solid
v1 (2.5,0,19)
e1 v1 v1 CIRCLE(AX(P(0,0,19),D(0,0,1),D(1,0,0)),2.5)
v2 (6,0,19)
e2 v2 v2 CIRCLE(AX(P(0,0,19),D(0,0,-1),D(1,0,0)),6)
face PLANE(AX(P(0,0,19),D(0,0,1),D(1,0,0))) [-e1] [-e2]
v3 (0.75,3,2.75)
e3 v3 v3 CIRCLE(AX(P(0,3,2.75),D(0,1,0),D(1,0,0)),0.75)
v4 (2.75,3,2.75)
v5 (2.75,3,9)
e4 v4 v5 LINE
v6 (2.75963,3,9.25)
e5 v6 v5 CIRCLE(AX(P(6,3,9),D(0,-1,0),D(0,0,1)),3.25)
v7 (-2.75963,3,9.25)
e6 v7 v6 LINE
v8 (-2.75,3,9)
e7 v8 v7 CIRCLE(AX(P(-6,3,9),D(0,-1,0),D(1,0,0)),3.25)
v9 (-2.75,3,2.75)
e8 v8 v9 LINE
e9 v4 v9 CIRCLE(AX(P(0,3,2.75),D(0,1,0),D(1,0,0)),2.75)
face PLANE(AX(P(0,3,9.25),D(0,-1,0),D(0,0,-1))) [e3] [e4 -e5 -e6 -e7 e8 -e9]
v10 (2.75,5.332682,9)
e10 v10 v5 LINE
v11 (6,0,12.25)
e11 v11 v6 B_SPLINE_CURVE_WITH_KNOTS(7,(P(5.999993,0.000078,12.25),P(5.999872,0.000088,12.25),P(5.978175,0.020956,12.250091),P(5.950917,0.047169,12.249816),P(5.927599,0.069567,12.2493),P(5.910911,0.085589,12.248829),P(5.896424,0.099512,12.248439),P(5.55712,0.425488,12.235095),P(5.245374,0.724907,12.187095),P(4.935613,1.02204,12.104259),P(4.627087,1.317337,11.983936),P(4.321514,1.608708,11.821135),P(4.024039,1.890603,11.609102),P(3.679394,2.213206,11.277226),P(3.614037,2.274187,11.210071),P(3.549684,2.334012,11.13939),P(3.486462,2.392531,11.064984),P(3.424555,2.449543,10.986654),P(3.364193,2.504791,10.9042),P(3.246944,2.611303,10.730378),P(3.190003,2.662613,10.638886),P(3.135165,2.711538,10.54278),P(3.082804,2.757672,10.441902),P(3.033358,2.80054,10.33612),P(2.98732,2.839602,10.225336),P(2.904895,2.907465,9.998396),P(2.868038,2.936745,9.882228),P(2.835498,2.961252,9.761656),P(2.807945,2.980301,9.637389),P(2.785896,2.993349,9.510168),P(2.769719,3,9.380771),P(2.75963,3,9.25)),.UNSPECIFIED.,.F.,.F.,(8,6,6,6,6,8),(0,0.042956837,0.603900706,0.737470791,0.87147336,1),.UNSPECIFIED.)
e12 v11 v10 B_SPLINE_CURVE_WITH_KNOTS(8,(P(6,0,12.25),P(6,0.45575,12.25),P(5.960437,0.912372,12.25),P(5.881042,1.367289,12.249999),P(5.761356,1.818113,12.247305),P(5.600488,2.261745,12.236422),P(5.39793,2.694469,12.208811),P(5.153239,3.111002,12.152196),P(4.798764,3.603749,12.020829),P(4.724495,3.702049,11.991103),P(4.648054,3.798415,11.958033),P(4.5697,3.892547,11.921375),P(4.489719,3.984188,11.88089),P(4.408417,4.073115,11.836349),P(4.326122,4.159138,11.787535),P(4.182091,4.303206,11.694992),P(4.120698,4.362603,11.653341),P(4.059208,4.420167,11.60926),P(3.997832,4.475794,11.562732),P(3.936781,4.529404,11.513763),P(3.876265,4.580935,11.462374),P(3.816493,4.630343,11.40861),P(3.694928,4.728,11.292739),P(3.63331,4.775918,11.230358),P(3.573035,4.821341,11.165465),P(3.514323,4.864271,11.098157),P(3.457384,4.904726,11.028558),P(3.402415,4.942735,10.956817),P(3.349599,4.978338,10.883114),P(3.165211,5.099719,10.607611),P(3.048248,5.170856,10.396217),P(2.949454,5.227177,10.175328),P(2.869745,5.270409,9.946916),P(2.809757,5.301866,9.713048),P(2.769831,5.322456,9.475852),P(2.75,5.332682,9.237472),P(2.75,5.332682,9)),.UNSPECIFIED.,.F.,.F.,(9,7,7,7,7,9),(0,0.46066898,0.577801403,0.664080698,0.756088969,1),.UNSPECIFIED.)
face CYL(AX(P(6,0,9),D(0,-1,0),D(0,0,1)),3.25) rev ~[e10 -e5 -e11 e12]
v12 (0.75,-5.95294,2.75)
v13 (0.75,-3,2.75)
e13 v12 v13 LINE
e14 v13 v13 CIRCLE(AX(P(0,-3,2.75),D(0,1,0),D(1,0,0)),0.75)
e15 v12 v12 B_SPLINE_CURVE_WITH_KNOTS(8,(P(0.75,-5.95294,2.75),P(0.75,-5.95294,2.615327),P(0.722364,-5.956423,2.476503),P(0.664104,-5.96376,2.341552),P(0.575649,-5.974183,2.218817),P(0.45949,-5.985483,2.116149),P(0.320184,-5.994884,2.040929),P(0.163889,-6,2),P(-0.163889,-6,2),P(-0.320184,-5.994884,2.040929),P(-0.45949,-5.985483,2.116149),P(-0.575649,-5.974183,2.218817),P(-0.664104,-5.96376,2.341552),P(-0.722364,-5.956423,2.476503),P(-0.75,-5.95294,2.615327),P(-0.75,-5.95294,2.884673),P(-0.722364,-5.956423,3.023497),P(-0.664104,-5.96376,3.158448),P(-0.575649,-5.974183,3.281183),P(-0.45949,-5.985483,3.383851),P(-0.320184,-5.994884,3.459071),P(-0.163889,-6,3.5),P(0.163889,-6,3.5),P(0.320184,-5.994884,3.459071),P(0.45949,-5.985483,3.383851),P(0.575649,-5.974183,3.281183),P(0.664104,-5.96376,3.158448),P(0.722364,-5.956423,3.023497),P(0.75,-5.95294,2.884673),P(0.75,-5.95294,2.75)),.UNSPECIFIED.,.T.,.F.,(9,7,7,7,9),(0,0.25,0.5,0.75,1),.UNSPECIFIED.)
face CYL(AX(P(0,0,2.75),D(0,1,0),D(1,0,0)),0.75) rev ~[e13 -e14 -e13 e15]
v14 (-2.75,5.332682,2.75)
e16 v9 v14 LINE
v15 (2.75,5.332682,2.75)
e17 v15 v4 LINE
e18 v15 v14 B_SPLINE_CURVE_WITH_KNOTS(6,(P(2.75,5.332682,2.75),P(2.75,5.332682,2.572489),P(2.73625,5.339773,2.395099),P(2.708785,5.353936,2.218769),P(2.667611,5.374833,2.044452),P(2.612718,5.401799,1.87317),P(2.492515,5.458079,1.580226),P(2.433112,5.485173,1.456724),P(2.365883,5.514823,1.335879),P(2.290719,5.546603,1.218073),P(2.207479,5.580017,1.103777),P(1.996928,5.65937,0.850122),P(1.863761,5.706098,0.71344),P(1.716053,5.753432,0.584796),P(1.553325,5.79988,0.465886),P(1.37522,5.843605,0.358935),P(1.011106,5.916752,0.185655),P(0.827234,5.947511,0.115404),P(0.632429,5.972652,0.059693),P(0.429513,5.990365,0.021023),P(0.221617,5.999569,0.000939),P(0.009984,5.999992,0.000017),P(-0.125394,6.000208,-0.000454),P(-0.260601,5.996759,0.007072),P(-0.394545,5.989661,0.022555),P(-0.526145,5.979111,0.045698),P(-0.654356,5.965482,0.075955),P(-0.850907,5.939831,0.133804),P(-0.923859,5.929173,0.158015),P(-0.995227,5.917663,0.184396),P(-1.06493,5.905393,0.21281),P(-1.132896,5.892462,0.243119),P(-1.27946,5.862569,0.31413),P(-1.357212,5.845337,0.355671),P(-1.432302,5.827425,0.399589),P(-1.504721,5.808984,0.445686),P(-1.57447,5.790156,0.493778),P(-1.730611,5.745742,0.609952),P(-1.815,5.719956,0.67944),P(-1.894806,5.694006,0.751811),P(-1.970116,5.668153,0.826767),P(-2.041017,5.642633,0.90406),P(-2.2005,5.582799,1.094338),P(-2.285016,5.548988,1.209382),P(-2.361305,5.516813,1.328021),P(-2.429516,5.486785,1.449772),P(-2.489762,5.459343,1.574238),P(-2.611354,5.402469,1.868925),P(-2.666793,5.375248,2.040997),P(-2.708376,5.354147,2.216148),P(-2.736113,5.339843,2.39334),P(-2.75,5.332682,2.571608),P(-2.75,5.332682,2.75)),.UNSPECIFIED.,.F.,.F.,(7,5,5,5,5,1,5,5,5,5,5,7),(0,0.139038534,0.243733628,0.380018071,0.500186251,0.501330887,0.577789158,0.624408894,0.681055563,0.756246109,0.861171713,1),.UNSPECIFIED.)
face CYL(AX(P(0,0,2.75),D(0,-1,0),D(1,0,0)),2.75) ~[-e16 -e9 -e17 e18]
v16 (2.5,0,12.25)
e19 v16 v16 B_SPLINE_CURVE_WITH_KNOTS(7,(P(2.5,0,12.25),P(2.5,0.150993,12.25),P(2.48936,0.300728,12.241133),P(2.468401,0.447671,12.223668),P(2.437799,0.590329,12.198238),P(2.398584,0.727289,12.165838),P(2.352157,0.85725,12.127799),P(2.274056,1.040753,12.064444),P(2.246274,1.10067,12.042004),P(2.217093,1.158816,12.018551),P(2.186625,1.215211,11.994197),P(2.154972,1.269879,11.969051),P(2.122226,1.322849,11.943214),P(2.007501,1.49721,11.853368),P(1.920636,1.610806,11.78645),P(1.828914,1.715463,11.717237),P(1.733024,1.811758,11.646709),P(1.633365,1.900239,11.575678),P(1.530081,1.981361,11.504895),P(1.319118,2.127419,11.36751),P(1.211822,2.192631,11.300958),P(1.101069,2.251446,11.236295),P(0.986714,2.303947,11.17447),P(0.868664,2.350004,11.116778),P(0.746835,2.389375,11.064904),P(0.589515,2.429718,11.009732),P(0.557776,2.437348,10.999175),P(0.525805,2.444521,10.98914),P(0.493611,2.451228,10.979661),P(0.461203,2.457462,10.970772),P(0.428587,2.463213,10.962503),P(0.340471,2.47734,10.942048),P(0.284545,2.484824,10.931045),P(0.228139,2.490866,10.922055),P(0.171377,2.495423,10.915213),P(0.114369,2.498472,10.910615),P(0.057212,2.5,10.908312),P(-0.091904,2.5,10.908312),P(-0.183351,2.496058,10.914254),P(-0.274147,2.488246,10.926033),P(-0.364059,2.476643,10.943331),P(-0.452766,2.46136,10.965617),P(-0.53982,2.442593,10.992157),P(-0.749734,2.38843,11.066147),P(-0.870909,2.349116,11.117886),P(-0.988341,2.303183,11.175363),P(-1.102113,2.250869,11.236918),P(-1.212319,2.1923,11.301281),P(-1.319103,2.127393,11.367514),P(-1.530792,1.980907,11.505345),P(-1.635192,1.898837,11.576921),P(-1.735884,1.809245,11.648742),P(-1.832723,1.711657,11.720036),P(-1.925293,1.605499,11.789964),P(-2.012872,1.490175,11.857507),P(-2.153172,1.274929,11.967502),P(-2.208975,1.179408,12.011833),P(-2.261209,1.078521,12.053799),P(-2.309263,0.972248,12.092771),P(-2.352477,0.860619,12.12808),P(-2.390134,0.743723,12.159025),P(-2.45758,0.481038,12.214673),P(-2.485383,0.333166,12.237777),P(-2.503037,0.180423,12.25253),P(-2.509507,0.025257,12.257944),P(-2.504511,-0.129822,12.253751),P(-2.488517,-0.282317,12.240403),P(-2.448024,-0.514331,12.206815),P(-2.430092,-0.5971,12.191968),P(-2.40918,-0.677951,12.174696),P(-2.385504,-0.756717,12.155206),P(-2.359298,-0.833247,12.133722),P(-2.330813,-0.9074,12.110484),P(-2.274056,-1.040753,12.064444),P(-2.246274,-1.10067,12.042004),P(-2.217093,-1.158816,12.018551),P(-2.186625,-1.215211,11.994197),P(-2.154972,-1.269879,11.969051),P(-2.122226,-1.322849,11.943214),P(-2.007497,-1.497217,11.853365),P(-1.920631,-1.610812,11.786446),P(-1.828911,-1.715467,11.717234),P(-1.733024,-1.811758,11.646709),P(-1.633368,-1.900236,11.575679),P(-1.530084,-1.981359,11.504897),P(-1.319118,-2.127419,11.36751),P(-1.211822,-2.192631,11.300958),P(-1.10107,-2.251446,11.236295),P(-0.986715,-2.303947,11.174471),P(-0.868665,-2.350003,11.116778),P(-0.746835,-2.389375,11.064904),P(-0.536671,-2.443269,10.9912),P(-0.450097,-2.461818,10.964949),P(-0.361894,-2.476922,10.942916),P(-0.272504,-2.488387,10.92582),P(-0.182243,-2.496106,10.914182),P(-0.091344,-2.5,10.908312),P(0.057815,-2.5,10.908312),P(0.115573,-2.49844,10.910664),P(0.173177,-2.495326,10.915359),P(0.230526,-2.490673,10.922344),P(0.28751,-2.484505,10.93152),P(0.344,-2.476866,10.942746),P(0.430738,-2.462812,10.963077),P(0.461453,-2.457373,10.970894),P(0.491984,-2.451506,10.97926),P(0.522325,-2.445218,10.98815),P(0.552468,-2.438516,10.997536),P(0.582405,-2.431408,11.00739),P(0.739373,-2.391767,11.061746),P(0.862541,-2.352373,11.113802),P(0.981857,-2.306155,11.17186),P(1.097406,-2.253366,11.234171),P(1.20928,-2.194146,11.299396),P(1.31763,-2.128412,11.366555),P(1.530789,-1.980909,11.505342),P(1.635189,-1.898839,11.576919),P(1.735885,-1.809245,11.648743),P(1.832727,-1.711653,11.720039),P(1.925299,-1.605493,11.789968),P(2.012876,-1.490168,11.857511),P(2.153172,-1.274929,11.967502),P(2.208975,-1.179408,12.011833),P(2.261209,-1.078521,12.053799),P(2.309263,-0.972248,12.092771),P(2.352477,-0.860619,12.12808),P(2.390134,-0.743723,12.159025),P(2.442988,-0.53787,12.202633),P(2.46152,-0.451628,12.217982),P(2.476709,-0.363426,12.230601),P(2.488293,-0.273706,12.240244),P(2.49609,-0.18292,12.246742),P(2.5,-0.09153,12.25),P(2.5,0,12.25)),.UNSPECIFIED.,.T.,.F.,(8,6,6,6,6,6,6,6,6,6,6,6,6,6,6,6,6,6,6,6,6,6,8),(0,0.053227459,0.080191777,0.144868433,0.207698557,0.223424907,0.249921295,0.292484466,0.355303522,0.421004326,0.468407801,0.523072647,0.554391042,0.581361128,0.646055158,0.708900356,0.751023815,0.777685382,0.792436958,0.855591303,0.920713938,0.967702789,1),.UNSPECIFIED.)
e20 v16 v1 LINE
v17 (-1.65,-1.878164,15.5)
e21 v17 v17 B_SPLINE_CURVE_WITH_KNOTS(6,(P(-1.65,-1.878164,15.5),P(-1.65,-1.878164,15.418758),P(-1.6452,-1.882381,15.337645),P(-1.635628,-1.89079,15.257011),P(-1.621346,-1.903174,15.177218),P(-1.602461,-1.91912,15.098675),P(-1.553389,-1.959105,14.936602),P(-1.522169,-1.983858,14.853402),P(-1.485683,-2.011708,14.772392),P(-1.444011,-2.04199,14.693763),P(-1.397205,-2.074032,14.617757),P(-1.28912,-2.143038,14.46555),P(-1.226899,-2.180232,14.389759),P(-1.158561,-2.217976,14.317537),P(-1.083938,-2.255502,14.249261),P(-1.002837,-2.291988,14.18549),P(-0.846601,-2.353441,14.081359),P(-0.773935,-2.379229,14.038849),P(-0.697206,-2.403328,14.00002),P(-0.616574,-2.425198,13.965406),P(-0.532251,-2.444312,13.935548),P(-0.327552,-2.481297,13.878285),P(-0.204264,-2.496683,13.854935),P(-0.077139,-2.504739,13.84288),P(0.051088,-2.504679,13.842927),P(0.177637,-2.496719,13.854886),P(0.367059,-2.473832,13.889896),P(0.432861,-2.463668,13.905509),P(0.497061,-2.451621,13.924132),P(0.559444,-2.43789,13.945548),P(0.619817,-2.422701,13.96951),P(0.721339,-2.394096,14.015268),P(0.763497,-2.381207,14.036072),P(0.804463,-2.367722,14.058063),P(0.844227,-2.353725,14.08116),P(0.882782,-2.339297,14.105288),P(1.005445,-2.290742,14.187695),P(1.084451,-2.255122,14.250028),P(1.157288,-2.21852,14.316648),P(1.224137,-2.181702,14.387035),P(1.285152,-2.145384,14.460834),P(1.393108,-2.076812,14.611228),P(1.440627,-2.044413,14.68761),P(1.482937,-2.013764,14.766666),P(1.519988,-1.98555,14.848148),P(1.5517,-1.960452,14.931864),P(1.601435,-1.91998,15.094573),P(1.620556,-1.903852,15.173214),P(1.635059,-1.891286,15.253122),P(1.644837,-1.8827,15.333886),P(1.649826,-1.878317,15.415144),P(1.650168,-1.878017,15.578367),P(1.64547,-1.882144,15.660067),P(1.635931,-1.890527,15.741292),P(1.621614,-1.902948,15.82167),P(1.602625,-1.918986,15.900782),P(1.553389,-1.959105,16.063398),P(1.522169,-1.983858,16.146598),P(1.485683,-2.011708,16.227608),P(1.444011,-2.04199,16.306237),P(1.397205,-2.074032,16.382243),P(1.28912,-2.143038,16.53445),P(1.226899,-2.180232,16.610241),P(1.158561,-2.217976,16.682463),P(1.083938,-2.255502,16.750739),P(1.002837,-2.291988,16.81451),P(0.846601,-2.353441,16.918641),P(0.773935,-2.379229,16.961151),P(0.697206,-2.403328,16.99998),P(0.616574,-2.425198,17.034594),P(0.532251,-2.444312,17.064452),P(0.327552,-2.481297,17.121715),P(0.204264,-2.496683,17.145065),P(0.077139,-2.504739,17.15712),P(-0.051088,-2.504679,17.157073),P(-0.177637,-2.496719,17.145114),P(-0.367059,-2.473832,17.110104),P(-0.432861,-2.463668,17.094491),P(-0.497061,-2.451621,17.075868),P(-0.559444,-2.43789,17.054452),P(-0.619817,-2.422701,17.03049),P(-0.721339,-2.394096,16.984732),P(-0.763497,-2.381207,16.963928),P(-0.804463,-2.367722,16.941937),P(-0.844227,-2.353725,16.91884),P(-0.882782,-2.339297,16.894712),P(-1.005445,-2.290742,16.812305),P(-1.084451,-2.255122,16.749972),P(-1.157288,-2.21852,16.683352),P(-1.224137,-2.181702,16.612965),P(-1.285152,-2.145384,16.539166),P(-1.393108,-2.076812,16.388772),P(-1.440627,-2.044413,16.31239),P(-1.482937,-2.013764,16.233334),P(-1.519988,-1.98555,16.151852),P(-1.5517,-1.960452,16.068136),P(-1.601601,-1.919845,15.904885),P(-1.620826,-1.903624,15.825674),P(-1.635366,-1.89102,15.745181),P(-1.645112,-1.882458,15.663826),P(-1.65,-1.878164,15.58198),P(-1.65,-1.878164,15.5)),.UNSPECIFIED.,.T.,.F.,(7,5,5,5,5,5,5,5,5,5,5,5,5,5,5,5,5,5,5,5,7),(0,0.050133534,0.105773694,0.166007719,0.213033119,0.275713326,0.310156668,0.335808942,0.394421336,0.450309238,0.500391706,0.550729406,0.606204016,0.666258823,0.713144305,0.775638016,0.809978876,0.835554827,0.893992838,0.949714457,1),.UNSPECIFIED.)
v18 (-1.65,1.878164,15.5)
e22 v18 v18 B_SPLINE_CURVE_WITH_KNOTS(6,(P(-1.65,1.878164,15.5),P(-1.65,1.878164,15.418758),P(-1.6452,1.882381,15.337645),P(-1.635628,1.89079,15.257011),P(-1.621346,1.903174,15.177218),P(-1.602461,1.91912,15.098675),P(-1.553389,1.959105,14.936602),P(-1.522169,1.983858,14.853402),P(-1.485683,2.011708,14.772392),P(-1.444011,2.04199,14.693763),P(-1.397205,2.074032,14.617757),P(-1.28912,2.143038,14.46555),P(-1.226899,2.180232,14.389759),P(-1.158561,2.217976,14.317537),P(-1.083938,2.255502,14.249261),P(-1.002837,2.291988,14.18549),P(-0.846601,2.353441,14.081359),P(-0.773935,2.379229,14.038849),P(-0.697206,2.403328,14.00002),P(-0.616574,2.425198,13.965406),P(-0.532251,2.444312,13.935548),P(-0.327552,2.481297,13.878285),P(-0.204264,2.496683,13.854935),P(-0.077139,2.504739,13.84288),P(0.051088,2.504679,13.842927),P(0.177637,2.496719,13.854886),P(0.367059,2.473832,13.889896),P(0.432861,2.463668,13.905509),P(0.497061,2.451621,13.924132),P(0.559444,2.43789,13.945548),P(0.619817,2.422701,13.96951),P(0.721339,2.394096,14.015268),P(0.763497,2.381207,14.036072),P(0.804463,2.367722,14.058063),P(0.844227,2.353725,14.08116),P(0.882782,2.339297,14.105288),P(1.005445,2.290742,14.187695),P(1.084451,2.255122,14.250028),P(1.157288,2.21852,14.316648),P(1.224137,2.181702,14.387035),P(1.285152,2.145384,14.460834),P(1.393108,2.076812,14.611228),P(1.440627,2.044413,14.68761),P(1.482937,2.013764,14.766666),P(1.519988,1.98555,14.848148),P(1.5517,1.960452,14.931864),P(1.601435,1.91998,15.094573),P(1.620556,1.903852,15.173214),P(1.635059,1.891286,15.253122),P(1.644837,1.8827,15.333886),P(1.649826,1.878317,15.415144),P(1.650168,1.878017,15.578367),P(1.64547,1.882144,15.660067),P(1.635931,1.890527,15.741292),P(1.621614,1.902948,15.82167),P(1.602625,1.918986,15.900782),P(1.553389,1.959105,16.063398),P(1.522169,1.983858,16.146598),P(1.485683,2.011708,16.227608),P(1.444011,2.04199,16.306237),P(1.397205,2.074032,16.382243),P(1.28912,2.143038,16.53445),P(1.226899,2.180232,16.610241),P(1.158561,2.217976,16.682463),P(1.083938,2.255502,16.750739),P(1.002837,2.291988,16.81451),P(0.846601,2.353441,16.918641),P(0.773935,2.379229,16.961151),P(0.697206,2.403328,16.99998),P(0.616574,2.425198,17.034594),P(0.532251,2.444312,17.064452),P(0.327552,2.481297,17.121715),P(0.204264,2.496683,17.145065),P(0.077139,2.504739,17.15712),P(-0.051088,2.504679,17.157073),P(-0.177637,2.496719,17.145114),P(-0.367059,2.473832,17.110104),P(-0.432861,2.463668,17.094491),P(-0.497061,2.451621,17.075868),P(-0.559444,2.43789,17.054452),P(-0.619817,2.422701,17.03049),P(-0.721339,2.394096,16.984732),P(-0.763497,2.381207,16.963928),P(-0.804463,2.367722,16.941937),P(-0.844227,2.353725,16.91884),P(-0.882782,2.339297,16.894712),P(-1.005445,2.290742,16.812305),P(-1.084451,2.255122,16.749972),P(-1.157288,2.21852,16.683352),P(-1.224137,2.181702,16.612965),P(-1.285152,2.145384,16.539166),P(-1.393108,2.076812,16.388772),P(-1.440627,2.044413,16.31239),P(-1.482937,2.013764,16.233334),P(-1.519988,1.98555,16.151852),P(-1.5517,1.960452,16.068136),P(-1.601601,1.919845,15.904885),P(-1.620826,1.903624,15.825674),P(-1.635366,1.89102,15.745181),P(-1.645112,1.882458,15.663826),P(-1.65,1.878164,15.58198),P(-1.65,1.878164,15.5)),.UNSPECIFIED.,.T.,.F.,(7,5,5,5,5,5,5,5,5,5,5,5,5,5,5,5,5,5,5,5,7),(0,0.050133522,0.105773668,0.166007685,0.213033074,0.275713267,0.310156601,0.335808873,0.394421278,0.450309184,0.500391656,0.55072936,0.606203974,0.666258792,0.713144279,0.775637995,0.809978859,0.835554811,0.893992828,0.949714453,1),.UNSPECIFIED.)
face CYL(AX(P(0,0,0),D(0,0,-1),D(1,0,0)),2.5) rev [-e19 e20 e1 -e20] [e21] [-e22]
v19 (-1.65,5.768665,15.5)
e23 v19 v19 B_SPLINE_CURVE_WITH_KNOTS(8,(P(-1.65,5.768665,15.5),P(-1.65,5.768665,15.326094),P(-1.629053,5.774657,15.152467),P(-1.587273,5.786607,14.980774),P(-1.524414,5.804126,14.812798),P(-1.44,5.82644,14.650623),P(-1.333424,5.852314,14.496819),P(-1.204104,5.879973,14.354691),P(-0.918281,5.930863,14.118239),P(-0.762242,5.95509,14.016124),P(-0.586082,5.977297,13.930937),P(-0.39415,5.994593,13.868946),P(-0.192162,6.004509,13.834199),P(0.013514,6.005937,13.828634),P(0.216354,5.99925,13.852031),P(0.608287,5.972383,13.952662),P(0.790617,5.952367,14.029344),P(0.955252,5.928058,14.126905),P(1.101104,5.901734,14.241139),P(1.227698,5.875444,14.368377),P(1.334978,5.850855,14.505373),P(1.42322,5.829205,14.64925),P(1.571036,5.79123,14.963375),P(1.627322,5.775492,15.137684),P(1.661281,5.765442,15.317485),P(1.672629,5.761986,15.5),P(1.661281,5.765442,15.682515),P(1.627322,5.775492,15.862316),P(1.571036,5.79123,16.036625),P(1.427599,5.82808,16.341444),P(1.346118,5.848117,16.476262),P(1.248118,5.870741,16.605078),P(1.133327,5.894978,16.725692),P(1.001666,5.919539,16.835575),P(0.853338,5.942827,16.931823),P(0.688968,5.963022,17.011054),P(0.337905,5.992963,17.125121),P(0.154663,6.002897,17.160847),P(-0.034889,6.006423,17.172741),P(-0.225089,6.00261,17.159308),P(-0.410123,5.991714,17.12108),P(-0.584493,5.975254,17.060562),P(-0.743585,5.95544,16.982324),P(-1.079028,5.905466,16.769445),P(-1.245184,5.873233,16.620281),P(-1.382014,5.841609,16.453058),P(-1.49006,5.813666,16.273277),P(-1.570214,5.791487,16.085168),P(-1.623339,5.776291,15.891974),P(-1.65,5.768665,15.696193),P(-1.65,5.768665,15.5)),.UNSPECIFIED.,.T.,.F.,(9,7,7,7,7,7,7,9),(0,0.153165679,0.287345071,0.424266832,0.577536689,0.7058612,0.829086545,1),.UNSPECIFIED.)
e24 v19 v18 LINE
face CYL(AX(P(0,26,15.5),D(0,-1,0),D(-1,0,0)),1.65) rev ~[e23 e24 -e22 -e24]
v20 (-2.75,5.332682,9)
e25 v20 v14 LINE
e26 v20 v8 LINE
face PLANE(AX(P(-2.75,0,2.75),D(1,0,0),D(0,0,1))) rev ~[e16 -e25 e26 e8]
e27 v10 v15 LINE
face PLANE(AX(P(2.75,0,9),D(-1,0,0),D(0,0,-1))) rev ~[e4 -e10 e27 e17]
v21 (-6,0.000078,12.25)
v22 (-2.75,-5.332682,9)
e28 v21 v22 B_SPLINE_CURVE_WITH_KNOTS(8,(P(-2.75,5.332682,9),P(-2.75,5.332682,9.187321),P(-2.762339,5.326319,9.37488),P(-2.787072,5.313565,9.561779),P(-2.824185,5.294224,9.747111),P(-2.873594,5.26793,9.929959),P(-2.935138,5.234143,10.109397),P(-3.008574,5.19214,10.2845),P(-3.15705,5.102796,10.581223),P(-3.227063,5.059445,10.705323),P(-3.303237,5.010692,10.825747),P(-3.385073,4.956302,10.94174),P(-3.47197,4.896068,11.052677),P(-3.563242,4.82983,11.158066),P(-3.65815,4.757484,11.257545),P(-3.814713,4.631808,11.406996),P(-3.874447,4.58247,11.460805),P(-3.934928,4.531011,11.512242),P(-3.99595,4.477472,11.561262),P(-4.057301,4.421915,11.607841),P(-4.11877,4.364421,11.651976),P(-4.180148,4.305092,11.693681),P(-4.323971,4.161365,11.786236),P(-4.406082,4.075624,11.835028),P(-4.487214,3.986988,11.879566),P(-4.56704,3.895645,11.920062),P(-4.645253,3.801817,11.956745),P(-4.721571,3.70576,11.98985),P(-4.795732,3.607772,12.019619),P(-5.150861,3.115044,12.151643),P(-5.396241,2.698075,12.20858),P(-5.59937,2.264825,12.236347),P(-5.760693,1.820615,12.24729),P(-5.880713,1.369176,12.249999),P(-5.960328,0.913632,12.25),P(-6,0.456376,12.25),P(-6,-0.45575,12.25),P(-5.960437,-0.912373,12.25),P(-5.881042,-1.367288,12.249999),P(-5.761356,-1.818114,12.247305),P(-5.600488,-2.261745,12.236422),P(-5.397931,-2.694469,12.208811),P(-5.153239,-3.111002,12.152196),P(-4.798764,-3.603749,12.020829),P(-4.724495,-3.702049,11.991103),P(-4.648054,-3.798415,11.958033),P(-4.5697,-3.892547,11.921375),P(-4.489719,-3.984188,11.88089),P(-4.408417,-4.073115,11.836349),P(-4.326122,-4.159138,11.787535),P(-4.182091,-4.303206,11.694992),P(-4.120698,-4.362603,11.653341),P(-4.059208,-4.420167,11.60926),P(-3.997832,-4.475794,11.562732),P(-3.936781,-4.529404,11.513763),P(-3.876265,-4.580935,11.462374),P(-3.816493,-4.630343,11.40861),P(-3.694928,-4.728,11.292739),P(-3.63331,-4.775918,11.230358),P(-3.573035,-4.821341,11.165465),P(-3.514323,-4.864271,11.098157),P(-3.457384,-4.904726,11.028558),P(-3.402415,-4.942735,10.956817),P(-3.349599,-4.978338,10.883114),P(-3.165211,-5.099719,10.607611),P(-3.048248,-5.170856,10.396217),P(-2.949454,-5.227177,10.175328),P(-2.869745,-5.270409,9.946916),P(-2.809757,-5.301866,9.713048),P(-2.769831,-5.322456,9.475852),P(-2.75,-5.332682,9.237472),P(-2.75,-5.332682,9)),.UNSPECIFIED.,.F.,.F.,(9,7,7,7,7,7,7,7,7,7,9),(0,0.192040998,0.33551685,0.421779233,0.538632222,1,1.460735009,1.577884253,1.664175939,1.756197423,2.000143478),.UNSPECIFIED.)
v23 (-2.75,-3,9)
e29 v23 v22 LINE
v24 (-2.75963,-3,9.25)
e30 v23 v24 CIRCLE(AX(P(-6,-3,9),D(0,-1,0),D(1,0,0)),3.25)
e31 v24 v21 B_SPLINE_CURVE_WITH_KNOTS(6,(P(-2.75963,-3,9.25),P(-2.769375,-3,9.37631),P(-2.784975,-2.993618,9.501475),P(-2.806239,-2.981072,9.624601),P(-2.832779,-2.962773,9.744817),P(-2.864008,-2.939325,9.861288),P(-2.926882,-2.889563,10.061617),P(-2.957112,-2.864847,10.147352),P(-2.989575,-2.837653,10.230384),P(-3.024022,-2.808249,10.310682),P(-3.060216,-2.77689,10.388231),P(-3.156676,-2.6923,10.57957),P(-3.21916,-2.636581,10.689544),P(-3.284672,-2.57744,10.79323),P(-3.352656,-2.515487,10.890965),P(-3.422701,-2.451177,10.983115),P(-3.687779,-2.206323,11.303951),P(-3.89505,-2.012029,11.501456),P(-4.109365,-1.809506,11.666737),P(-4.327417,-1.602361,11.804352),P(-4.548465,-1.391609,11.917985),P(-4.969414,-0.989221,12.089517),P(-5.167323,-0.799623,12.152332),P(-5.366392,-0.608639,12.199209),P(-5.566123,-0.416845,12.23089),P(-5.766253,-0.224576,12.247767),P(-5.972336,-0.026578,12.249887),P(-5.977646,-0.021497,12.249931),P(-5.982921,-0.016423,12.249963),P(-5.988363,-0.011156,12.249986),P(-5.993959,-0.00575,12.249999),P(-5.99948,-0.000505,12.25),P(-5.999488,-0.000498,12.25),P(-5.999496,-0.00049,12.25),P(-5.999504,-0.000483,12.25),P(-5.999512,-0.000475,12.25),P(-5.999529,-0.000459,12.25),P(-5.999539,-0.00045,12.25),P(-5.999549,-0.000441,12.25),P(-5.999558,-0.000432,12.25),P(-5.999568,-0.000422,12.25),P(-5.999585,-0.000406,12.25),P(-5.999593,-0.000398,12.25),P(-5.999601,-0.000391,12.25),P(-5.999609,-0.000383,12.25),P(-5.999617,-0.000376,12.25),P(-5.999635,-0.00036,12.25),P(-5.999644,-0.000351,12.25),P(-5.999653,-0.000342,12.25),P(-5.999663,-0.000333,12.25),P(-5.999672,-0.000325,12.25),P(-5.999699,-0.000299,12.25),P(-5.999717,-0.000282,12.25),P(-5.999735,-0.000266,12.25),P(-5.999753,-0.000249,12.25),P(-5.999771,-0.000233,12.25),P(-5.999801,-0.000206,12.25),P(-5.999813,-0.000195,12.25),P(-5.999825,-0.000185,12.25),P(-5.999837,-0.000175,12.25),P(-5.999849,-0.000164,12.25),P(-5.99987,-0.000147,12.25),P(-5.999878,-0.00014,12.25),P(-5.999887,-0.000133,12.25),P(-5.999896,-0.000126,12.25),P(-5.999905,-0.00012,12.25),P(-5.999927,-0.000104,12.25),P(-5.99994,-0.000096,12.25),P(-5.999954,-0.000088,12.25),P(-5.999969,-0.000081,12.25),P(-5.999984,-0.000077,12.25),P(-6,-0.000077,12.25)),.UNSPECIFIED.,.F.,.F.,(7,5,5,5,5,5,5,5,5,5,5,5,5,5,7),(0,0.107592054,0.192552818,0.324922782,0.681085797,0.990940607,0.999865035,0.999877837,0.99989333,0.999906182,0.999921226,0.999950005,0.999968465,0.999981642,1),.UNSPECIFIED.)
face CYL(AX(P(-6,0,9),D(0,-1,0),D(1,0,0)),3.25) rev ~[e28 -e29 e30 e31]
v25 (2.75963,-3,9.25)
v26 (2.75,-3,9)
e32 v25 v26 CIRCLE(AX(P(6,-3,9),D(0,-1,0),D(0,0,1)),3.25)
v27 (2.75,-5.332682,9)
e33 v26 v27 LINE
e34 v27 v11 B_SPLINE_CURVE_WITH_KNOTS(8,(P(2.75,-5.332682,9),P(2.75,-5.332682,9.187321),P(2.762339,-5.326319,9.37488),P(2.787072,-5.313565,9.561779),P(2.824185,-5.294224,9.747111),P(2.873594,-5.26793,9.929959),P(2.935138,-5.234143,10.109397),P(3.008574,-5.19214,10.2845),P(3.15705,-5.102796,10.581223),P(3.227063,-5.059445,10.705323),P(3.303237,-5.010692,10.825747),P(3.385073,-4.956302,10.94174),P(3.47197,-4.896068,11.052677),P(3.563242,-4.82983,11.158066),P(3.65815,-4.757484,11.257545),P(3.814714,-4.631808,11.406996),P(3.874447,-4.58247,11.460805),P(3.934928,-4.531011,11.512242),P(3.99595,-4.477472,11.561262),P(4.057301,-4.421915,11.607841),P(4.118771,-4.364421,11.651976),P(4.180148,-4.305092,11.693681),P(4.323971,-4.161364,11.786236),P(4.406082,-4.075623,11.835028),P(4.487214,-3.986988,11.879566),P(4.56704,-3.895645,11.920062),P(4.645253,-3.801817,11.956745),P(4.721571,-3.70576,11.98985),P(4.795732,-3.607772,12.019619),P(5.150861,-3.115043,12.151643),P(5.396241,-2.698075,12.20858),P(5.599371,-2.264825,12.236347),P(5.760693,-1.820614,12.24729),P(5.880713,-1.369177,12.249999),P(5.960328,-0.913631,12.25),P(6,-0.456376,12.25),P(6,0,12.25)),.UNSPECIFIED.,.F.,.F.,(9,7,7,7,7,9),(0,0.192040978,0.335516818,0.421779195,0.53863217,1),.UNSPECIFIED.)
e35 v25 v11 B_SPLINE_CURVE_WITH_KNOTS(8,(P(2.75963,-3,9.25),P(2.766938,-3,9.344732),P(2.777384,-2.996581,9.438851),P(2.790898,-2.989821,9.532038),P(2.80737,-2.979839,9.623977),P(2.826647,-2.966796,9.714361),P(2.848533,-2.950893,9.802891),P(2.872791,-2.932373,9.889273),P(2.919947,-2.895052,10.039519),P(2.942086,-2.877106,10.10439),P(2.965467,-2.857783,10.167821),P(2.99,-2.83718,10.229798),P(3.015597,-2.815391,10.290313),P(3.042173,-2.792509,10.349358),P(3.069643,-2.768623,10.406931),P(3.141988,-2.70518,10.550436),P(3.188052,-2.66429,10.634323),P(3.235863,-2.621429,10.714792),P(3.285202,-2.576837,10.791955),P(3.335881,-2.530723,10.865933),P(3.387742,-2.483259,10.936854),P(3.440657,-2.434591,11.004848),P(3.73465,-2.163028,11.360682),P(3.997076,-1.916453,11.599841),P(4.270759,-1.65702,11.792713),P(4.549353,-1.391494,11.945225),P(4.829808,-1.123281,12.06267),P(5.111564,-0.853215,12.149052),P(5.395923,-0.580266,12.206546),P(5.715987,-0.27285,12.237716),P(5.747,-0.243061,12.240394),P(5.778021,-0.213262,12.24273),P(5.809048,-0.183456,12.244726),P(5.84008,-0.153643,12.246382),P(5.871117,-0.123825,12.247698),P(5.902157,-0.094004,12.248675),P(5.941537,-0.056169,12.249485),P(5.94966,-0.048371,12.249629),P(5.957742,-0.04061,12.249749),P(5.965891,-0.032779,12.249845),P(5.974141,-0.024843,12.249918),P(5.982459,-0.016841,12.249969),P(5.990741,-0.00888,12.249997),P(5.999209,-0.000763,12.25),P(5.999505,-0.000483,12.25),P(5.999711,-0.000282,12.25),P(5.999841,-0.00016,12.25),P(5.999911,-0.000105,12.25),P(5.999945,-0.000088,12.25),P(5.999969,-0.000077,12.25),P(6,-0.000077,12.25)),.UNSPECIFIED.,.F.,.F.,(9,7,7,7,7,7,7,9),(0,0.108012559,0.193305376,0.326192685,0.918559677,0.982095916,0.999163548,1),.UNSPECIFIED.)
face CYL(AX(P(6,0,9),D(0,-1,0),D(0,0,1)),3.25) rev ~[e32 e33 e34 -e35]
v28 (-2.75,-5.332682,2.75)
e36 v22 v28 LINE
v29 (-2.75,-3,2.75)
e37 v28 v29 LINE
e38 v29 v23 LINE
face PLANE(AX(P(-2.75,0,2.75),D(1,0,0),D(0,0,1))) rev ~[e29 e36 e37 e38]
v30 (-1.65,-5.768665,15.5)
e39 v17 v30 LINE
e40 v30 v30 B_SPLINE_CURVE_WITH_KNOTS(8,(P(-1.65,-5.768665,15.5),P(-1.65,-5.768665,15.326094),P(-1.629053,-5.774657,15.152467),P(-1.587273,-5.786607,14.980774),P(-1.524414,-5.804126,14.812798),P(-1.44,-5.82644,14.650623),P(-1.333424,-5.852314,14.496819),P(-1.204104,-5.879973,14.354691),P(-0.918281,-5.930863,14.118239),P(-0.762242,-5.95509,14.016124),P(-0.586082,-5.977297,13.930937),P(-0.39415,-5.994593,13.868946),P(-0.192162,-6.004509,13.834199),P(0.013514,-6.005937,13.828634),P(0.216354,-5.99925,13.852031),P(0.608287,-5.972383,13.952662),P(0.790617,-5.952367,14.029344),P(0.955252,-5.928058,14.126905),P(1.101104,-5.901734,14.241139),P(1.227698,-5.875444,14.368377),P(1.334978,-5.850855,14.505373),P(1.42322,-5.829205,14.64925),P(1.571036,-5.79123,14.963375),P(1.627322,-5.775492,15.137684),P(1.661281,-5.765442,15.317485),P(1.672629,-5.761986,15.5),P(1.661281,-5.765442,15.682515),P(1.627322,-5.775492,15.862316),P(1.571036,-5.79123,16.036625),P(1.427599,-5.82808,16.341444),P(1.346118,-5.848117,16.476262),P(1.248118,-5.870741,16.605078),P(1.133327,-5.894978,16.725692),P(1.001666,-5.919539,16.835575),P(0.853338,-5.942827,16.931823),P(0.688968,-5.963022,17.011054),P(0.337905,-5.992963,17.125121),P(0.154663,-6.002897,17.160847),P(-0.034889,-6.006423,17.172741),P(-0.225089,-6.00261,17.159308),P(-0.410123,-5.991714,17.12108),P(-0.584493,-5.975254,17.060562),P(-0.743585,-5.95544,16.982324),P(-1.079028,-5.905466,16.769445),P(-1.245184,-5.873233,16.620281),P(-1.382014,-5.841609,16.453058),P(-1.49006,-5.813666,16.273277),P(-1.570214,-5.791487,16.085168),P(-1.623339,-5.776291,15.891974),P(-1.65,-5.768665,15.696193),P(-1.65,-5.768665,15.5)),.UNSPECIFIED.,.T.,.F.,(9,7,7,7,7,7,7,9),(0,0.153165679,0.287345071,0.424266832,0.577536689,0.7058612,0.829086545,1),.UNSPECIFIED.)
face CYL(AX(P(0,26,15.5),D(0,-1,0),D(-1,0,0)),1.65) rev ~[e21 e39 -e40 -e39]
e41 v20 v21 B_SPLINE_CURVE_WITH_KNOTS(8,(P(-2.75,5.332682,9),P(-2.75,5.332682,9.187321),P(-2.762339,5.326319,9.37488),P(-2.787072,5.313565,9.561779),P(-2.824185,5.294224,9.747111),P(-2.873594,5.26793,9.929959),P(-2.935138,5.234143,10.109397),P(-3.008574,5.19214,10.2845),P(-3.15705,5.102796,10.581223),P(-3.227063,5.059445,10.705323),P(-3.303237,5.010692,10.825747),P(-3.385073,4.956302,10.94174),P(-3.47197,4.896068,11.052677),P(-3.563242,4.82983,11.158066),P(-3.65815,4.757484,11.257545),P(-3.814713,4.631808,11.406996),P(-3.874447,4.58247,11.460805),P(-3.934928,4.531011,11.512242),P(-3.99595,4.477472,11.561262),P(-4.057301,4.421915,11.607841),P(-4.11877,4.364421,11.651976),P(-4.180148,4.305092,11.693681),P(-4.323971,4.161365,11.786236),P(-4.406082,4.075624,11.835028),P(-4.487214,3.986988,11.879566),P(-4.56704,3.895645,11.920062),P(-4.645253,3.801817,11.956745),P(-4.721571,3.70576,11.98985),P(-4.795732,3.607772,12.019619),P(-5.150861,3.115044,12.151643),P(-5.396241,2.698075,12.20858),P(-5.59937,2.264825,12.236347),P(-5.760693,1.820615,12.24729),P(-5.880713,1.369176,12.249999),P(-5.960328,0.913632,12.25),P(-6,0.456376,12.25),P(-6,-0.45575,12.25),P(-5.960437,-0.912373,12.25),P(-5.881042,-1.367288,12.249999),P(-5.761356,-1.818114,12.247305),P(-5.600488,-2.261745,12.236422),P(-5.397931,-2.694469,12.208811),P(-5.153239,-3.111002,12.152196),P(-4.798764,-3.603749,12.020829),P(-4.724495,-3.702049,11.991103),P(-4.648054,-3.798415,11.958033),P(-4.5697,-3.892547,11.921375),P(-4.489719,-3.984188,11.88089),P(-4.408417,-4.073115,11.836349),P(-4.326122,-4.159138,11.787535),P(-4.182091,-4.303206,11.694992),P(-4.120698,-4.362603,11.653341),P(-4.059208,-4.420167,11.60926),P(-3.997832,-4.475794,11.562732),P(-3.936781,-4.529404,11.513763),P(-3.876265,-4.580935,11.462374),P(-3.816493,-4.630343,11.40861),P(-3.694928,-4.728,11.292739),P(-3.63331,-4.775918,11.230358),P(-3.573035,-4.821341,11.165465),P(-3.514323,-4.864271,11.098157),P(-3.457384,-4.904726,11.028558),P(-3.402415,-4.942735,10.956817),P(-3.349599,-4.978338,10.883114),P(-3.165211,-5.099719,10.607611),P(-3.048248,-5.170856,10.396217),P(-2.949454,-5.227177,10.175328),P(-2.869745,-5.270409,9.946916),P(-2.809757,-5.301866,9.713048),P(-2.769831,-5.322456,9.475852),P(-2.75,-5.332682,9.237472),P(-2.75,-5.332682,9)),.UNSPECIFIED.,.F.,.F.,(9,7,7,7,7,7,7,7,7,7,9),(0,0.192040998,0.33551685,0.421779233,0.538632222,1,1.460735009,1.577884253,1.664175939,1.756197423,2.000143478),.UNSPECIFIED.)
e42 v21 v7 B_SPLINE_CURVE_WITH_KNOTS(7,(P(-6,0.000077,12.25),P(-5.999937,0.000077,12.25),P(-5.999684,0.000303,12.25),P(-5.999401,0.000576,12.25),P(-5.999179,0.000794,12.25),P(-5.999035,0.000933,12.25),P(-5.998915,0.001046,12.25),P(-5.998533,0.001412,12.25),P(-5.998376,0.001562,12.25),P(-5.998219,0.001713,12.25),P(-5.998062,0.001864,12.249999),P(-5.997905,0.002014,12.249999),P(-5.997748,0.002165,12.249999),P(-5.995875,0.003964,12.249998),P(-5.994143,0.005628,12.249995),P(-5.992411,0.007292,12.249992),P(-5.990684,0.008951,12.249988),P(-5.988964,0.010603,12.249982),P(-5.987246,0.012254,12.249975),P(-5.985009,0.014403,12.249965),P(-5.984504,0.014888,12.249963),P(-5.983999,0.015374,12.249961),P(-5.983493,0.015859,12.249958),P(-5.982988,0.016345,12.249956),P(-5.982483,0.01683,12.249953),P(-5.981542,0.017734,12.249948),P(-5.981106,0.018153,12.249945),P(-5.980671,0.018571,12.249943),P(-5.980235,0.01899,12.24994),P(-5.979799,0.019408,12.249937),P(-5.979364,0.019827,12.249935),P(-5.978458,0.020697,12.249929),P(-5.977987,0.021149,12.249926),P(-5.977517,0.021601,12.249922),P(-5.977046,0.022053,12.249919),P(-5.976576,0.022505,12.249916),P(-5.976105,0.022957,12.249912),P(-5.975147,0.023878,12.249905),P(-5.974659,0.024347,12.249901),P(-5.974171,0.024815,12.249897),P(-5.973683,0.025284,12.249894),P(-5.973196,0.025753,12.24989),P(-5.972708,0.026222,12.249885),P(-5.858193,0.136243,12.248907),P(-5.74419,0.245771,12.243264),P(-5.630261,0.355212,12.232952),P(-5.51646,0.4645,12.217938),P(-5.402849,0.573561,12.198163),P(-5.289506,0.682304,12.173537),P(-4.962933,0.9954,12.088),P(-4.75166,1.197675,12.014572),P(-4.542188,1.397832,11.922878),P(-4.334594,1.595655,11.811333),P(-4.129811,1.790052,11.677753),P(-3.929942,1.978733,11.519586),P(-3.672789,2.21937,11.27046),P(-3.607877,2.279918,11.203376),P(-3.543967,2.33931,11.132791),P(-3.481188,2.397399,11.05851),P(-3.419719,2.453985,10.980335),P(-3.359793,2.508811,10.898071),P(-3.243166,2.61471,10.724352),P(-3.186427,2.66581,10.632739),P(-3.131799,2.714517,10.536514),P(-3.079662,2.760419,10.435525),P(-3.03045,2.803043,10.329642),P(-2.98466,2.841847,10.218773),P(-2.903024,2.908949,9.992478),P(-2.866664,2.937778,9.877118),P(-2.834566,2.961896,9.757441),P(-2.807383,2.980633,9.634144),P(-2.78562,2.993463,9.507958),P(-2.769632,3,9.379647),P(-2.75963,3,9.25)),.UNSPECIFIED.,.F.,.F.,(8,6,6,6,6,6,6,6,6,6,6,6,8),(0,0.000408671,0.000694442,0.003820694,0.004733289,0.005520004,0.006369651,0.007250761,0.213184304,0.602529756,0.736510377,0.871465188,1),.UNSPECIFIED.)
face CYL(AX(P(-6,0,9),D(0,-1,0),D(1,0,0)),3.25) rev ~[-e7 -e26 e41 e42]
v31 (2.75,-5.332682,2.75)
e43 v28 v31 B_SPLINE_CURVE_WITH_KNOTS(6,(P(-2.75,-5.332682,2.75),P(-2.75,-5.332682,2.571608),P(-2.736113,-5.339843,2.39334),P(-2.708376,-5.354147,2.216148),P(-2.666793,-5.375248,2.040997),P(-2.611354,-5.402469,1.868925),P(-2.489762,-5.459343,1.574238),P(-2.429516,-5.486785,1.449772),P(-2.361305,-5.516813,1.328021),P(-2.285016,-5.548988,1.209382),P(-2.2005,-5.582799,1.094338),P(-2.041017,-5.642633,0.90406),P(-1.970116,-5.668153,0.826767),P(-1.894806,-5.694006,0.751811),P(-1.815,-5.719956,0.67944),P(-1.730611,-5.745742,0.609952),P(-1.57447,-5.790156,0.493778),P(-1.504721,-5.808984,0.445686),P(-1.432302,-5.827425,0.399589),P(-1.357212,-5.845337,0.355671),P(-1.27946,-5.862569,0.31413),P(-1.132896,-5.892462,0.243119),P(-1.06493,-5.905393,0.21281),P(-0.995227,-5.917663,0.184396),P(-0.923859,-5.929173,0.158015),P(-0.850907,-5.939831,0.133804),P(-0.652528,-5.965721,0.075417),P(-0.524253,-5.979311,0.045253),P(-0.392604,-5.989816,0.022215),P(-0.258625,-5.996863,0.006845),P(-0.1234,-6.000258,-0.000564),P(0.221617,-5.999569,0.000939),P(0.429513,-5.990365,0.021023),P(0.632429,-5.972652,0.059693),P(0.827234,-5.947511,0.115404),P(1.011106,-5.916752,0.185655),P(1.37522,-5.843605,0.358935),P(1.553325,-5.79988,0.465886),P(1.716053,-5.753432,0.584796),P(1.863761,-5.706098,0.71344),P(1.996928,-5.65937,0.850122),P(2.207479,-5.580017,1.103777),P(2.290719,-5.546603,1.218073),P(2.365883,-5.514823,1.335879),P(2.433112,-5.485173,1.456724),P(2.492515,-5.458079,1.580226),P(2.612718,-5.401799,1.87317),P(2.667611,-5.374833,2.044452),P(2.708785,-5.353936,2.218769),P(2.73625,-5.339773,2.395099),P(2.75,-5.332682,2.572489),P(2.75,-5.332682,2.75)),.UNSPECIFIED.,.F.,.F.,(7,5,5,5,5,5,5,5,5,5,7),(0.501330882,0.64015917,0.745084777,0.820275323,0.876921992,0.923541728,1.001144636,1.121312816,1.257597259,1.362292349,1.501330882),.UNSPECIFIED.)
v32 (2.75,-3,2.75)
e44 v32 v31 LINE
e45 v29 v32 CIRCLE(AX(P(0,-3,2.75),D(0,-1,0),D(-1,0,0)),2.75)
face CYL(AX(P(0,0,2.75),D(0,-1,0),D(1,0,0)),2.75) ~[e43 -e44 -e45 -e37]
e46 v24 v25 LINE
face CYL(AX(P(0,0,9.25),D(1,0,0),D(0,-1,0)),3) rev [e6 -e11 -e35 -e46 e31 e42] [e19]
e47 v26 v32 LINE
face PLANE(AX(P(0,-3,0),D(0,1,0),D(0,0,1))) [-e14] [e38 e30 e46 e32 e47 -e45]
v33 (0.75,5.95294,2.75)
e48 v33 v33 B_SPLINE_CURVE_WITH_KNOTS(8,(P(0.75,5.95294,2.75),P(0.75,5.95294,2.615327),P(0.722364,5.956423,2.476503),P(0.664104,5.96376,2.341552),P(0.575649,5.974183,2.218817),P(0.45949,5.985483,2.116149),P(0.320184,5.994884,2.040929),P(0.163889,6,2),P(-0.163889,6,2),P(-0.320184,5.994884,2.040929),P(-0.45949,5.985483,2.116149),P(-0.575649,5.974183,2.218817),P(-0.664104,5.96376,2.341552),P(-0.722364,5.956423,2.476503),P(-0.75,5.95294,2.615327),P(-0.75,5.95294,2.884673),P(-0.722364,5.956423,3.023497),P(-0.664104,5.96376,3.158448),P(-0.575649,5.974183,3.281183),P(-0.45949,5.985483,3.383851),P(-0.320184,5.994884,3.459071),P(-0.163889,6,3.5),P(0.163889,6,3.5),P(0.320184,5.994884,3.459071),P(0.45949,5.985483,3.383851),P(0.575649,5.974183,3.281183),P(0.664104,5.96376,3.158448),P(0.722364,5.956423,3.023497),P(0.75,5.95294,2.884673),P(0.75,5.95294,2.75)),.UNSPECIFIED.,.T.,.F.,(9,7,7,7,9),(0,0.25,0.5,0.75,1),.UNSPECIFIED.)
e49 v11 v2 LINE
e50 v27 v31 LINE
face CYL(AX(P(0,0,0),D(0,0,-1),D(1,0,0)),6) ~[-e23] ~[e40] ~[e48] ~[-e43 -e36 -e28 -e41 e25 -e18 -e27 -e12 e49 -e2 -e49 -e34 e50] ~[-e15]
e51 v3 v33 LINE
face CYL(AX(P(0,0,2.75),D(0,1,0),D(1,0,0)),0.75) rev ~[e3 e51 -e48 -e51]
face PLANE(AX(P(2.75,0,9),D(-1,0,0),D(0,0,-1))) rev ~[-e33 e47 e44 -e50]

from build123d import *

# Parameters (mm, degrees)
SKETCH_1_R             = 6
SKETCH_1_R_2           = 2.5
EXTRUDE_1_DEPTH        = 19
SKETCH_2_OUTSIDE_W     = 19.096
SKETCH_2_OUTSIDE_H     = 26.096
SKETCH_2_OUTSIDE_R     = 0.75
CUT_EXTRUDE_1_DEPTH    = 9.5
CUT_EXTRUDE_2_DEPTH    = 9.5
HOLE_WIZARD_M4_1_D     = 3.3
HOLE_WIZARD_M4_1_DEPTH = 20
HOLE_WIZARD_M4_1_TIP   = 0.991420021


with BuildPart() as part:
    # 草图1 → 凸台-拉伸1 (new body)
    with BuildSketch(Plane.XY):
        Circle(SKETCH_1_R)
        Circle(SKETCH_1_R_2, mode=Mode.SUBTRACT)
    extrude(amount=EXTRUDE_1_DEPTH)

    # 草图2 outside → 切除-拉伸1 (cut, symmetric)
    with BuildSketch(Plane(origin=(0, 0, 0), x_dir=(1, 0, 0), z_dir=(0, 1, 0))):
        with Locations((0, -9.5)):
            Rectangle(SKETCH_2_OUTSIDE_W, SKETCH_2_OUTSIDE_H)
        with BuildLine():
            Line((-2.75, -2.75), (-2.75, -9))
            ThreePointArc((-2.75, -9), (-3.701902961, -11.298097039), (-6, -12.25))
            Line((-6, -12.25), (-6, -19))
            Line((-6, -19), (6, -19))
            Line((6, -19), (6, -12.25))
            ThreePointArc((6, -12.25), (3.701902961, -11.298097039), (2.75, -9))
            Line((2.75, -9), (2.75, -2.75))
            ThreePointArc((2.75, -2.75), (0, 0), (-2.75, -2.75))
        make_face(mode=Mode.SUBTRACT)
        with Locations((0, -2.75)):
            Circle(SKETCH_2_OUTSIDE_R)
    extrude(amount=CUT_EXTRUDE_1_DEPTH, both=True, mode=Mode.SUBTRACT)

    # 草图3 → 切除-拉伸2 (cut, symmetric)
    with BuildSketch(Plane(origin=(0, 0, 0), x_dir=(0, 0, -1), z_dir=(1, 0, 0))):
        with BuildLine():
            Line((-9.250000001, 3), (0, 3))
            Line((0, 3), (0, -3))
            Line((0, -3), (-9.250000001, -3))
            ThreePointArc((-9.250000001, -3), (-12.250000001, 0), (-9.250000001, 3))
        make_face()
    extrude(amount=CUT_EXTRUDE_2_DEPTH, both=True, mode=Mode.SUBTRACT)

    # M4 螺纹孔1
    with Locations(Plane(origin=(0, 6, 0), x_dir=(1, 0, 0), z_dir=(0, 1, 0))):
        with Locations((0, -15.5)):
            Hole(HOLE_WIZARD_M4_1_D / 2, depth=HOLE_WIZARD_M4_1_DEPTH)
            with Locations((0, 0, -(HOLE_WIZARD_M4_1_DEPTH + HOLE_WIZARD_M4_1_TIP / 2))):  # 118° drill point
                Cone(0, HOLE_WIZARD_M4_1_D / 2, HOLE_WIZARD_M4_1_TIP, mode=Mode.SUBTRACT)


solid = part.part
